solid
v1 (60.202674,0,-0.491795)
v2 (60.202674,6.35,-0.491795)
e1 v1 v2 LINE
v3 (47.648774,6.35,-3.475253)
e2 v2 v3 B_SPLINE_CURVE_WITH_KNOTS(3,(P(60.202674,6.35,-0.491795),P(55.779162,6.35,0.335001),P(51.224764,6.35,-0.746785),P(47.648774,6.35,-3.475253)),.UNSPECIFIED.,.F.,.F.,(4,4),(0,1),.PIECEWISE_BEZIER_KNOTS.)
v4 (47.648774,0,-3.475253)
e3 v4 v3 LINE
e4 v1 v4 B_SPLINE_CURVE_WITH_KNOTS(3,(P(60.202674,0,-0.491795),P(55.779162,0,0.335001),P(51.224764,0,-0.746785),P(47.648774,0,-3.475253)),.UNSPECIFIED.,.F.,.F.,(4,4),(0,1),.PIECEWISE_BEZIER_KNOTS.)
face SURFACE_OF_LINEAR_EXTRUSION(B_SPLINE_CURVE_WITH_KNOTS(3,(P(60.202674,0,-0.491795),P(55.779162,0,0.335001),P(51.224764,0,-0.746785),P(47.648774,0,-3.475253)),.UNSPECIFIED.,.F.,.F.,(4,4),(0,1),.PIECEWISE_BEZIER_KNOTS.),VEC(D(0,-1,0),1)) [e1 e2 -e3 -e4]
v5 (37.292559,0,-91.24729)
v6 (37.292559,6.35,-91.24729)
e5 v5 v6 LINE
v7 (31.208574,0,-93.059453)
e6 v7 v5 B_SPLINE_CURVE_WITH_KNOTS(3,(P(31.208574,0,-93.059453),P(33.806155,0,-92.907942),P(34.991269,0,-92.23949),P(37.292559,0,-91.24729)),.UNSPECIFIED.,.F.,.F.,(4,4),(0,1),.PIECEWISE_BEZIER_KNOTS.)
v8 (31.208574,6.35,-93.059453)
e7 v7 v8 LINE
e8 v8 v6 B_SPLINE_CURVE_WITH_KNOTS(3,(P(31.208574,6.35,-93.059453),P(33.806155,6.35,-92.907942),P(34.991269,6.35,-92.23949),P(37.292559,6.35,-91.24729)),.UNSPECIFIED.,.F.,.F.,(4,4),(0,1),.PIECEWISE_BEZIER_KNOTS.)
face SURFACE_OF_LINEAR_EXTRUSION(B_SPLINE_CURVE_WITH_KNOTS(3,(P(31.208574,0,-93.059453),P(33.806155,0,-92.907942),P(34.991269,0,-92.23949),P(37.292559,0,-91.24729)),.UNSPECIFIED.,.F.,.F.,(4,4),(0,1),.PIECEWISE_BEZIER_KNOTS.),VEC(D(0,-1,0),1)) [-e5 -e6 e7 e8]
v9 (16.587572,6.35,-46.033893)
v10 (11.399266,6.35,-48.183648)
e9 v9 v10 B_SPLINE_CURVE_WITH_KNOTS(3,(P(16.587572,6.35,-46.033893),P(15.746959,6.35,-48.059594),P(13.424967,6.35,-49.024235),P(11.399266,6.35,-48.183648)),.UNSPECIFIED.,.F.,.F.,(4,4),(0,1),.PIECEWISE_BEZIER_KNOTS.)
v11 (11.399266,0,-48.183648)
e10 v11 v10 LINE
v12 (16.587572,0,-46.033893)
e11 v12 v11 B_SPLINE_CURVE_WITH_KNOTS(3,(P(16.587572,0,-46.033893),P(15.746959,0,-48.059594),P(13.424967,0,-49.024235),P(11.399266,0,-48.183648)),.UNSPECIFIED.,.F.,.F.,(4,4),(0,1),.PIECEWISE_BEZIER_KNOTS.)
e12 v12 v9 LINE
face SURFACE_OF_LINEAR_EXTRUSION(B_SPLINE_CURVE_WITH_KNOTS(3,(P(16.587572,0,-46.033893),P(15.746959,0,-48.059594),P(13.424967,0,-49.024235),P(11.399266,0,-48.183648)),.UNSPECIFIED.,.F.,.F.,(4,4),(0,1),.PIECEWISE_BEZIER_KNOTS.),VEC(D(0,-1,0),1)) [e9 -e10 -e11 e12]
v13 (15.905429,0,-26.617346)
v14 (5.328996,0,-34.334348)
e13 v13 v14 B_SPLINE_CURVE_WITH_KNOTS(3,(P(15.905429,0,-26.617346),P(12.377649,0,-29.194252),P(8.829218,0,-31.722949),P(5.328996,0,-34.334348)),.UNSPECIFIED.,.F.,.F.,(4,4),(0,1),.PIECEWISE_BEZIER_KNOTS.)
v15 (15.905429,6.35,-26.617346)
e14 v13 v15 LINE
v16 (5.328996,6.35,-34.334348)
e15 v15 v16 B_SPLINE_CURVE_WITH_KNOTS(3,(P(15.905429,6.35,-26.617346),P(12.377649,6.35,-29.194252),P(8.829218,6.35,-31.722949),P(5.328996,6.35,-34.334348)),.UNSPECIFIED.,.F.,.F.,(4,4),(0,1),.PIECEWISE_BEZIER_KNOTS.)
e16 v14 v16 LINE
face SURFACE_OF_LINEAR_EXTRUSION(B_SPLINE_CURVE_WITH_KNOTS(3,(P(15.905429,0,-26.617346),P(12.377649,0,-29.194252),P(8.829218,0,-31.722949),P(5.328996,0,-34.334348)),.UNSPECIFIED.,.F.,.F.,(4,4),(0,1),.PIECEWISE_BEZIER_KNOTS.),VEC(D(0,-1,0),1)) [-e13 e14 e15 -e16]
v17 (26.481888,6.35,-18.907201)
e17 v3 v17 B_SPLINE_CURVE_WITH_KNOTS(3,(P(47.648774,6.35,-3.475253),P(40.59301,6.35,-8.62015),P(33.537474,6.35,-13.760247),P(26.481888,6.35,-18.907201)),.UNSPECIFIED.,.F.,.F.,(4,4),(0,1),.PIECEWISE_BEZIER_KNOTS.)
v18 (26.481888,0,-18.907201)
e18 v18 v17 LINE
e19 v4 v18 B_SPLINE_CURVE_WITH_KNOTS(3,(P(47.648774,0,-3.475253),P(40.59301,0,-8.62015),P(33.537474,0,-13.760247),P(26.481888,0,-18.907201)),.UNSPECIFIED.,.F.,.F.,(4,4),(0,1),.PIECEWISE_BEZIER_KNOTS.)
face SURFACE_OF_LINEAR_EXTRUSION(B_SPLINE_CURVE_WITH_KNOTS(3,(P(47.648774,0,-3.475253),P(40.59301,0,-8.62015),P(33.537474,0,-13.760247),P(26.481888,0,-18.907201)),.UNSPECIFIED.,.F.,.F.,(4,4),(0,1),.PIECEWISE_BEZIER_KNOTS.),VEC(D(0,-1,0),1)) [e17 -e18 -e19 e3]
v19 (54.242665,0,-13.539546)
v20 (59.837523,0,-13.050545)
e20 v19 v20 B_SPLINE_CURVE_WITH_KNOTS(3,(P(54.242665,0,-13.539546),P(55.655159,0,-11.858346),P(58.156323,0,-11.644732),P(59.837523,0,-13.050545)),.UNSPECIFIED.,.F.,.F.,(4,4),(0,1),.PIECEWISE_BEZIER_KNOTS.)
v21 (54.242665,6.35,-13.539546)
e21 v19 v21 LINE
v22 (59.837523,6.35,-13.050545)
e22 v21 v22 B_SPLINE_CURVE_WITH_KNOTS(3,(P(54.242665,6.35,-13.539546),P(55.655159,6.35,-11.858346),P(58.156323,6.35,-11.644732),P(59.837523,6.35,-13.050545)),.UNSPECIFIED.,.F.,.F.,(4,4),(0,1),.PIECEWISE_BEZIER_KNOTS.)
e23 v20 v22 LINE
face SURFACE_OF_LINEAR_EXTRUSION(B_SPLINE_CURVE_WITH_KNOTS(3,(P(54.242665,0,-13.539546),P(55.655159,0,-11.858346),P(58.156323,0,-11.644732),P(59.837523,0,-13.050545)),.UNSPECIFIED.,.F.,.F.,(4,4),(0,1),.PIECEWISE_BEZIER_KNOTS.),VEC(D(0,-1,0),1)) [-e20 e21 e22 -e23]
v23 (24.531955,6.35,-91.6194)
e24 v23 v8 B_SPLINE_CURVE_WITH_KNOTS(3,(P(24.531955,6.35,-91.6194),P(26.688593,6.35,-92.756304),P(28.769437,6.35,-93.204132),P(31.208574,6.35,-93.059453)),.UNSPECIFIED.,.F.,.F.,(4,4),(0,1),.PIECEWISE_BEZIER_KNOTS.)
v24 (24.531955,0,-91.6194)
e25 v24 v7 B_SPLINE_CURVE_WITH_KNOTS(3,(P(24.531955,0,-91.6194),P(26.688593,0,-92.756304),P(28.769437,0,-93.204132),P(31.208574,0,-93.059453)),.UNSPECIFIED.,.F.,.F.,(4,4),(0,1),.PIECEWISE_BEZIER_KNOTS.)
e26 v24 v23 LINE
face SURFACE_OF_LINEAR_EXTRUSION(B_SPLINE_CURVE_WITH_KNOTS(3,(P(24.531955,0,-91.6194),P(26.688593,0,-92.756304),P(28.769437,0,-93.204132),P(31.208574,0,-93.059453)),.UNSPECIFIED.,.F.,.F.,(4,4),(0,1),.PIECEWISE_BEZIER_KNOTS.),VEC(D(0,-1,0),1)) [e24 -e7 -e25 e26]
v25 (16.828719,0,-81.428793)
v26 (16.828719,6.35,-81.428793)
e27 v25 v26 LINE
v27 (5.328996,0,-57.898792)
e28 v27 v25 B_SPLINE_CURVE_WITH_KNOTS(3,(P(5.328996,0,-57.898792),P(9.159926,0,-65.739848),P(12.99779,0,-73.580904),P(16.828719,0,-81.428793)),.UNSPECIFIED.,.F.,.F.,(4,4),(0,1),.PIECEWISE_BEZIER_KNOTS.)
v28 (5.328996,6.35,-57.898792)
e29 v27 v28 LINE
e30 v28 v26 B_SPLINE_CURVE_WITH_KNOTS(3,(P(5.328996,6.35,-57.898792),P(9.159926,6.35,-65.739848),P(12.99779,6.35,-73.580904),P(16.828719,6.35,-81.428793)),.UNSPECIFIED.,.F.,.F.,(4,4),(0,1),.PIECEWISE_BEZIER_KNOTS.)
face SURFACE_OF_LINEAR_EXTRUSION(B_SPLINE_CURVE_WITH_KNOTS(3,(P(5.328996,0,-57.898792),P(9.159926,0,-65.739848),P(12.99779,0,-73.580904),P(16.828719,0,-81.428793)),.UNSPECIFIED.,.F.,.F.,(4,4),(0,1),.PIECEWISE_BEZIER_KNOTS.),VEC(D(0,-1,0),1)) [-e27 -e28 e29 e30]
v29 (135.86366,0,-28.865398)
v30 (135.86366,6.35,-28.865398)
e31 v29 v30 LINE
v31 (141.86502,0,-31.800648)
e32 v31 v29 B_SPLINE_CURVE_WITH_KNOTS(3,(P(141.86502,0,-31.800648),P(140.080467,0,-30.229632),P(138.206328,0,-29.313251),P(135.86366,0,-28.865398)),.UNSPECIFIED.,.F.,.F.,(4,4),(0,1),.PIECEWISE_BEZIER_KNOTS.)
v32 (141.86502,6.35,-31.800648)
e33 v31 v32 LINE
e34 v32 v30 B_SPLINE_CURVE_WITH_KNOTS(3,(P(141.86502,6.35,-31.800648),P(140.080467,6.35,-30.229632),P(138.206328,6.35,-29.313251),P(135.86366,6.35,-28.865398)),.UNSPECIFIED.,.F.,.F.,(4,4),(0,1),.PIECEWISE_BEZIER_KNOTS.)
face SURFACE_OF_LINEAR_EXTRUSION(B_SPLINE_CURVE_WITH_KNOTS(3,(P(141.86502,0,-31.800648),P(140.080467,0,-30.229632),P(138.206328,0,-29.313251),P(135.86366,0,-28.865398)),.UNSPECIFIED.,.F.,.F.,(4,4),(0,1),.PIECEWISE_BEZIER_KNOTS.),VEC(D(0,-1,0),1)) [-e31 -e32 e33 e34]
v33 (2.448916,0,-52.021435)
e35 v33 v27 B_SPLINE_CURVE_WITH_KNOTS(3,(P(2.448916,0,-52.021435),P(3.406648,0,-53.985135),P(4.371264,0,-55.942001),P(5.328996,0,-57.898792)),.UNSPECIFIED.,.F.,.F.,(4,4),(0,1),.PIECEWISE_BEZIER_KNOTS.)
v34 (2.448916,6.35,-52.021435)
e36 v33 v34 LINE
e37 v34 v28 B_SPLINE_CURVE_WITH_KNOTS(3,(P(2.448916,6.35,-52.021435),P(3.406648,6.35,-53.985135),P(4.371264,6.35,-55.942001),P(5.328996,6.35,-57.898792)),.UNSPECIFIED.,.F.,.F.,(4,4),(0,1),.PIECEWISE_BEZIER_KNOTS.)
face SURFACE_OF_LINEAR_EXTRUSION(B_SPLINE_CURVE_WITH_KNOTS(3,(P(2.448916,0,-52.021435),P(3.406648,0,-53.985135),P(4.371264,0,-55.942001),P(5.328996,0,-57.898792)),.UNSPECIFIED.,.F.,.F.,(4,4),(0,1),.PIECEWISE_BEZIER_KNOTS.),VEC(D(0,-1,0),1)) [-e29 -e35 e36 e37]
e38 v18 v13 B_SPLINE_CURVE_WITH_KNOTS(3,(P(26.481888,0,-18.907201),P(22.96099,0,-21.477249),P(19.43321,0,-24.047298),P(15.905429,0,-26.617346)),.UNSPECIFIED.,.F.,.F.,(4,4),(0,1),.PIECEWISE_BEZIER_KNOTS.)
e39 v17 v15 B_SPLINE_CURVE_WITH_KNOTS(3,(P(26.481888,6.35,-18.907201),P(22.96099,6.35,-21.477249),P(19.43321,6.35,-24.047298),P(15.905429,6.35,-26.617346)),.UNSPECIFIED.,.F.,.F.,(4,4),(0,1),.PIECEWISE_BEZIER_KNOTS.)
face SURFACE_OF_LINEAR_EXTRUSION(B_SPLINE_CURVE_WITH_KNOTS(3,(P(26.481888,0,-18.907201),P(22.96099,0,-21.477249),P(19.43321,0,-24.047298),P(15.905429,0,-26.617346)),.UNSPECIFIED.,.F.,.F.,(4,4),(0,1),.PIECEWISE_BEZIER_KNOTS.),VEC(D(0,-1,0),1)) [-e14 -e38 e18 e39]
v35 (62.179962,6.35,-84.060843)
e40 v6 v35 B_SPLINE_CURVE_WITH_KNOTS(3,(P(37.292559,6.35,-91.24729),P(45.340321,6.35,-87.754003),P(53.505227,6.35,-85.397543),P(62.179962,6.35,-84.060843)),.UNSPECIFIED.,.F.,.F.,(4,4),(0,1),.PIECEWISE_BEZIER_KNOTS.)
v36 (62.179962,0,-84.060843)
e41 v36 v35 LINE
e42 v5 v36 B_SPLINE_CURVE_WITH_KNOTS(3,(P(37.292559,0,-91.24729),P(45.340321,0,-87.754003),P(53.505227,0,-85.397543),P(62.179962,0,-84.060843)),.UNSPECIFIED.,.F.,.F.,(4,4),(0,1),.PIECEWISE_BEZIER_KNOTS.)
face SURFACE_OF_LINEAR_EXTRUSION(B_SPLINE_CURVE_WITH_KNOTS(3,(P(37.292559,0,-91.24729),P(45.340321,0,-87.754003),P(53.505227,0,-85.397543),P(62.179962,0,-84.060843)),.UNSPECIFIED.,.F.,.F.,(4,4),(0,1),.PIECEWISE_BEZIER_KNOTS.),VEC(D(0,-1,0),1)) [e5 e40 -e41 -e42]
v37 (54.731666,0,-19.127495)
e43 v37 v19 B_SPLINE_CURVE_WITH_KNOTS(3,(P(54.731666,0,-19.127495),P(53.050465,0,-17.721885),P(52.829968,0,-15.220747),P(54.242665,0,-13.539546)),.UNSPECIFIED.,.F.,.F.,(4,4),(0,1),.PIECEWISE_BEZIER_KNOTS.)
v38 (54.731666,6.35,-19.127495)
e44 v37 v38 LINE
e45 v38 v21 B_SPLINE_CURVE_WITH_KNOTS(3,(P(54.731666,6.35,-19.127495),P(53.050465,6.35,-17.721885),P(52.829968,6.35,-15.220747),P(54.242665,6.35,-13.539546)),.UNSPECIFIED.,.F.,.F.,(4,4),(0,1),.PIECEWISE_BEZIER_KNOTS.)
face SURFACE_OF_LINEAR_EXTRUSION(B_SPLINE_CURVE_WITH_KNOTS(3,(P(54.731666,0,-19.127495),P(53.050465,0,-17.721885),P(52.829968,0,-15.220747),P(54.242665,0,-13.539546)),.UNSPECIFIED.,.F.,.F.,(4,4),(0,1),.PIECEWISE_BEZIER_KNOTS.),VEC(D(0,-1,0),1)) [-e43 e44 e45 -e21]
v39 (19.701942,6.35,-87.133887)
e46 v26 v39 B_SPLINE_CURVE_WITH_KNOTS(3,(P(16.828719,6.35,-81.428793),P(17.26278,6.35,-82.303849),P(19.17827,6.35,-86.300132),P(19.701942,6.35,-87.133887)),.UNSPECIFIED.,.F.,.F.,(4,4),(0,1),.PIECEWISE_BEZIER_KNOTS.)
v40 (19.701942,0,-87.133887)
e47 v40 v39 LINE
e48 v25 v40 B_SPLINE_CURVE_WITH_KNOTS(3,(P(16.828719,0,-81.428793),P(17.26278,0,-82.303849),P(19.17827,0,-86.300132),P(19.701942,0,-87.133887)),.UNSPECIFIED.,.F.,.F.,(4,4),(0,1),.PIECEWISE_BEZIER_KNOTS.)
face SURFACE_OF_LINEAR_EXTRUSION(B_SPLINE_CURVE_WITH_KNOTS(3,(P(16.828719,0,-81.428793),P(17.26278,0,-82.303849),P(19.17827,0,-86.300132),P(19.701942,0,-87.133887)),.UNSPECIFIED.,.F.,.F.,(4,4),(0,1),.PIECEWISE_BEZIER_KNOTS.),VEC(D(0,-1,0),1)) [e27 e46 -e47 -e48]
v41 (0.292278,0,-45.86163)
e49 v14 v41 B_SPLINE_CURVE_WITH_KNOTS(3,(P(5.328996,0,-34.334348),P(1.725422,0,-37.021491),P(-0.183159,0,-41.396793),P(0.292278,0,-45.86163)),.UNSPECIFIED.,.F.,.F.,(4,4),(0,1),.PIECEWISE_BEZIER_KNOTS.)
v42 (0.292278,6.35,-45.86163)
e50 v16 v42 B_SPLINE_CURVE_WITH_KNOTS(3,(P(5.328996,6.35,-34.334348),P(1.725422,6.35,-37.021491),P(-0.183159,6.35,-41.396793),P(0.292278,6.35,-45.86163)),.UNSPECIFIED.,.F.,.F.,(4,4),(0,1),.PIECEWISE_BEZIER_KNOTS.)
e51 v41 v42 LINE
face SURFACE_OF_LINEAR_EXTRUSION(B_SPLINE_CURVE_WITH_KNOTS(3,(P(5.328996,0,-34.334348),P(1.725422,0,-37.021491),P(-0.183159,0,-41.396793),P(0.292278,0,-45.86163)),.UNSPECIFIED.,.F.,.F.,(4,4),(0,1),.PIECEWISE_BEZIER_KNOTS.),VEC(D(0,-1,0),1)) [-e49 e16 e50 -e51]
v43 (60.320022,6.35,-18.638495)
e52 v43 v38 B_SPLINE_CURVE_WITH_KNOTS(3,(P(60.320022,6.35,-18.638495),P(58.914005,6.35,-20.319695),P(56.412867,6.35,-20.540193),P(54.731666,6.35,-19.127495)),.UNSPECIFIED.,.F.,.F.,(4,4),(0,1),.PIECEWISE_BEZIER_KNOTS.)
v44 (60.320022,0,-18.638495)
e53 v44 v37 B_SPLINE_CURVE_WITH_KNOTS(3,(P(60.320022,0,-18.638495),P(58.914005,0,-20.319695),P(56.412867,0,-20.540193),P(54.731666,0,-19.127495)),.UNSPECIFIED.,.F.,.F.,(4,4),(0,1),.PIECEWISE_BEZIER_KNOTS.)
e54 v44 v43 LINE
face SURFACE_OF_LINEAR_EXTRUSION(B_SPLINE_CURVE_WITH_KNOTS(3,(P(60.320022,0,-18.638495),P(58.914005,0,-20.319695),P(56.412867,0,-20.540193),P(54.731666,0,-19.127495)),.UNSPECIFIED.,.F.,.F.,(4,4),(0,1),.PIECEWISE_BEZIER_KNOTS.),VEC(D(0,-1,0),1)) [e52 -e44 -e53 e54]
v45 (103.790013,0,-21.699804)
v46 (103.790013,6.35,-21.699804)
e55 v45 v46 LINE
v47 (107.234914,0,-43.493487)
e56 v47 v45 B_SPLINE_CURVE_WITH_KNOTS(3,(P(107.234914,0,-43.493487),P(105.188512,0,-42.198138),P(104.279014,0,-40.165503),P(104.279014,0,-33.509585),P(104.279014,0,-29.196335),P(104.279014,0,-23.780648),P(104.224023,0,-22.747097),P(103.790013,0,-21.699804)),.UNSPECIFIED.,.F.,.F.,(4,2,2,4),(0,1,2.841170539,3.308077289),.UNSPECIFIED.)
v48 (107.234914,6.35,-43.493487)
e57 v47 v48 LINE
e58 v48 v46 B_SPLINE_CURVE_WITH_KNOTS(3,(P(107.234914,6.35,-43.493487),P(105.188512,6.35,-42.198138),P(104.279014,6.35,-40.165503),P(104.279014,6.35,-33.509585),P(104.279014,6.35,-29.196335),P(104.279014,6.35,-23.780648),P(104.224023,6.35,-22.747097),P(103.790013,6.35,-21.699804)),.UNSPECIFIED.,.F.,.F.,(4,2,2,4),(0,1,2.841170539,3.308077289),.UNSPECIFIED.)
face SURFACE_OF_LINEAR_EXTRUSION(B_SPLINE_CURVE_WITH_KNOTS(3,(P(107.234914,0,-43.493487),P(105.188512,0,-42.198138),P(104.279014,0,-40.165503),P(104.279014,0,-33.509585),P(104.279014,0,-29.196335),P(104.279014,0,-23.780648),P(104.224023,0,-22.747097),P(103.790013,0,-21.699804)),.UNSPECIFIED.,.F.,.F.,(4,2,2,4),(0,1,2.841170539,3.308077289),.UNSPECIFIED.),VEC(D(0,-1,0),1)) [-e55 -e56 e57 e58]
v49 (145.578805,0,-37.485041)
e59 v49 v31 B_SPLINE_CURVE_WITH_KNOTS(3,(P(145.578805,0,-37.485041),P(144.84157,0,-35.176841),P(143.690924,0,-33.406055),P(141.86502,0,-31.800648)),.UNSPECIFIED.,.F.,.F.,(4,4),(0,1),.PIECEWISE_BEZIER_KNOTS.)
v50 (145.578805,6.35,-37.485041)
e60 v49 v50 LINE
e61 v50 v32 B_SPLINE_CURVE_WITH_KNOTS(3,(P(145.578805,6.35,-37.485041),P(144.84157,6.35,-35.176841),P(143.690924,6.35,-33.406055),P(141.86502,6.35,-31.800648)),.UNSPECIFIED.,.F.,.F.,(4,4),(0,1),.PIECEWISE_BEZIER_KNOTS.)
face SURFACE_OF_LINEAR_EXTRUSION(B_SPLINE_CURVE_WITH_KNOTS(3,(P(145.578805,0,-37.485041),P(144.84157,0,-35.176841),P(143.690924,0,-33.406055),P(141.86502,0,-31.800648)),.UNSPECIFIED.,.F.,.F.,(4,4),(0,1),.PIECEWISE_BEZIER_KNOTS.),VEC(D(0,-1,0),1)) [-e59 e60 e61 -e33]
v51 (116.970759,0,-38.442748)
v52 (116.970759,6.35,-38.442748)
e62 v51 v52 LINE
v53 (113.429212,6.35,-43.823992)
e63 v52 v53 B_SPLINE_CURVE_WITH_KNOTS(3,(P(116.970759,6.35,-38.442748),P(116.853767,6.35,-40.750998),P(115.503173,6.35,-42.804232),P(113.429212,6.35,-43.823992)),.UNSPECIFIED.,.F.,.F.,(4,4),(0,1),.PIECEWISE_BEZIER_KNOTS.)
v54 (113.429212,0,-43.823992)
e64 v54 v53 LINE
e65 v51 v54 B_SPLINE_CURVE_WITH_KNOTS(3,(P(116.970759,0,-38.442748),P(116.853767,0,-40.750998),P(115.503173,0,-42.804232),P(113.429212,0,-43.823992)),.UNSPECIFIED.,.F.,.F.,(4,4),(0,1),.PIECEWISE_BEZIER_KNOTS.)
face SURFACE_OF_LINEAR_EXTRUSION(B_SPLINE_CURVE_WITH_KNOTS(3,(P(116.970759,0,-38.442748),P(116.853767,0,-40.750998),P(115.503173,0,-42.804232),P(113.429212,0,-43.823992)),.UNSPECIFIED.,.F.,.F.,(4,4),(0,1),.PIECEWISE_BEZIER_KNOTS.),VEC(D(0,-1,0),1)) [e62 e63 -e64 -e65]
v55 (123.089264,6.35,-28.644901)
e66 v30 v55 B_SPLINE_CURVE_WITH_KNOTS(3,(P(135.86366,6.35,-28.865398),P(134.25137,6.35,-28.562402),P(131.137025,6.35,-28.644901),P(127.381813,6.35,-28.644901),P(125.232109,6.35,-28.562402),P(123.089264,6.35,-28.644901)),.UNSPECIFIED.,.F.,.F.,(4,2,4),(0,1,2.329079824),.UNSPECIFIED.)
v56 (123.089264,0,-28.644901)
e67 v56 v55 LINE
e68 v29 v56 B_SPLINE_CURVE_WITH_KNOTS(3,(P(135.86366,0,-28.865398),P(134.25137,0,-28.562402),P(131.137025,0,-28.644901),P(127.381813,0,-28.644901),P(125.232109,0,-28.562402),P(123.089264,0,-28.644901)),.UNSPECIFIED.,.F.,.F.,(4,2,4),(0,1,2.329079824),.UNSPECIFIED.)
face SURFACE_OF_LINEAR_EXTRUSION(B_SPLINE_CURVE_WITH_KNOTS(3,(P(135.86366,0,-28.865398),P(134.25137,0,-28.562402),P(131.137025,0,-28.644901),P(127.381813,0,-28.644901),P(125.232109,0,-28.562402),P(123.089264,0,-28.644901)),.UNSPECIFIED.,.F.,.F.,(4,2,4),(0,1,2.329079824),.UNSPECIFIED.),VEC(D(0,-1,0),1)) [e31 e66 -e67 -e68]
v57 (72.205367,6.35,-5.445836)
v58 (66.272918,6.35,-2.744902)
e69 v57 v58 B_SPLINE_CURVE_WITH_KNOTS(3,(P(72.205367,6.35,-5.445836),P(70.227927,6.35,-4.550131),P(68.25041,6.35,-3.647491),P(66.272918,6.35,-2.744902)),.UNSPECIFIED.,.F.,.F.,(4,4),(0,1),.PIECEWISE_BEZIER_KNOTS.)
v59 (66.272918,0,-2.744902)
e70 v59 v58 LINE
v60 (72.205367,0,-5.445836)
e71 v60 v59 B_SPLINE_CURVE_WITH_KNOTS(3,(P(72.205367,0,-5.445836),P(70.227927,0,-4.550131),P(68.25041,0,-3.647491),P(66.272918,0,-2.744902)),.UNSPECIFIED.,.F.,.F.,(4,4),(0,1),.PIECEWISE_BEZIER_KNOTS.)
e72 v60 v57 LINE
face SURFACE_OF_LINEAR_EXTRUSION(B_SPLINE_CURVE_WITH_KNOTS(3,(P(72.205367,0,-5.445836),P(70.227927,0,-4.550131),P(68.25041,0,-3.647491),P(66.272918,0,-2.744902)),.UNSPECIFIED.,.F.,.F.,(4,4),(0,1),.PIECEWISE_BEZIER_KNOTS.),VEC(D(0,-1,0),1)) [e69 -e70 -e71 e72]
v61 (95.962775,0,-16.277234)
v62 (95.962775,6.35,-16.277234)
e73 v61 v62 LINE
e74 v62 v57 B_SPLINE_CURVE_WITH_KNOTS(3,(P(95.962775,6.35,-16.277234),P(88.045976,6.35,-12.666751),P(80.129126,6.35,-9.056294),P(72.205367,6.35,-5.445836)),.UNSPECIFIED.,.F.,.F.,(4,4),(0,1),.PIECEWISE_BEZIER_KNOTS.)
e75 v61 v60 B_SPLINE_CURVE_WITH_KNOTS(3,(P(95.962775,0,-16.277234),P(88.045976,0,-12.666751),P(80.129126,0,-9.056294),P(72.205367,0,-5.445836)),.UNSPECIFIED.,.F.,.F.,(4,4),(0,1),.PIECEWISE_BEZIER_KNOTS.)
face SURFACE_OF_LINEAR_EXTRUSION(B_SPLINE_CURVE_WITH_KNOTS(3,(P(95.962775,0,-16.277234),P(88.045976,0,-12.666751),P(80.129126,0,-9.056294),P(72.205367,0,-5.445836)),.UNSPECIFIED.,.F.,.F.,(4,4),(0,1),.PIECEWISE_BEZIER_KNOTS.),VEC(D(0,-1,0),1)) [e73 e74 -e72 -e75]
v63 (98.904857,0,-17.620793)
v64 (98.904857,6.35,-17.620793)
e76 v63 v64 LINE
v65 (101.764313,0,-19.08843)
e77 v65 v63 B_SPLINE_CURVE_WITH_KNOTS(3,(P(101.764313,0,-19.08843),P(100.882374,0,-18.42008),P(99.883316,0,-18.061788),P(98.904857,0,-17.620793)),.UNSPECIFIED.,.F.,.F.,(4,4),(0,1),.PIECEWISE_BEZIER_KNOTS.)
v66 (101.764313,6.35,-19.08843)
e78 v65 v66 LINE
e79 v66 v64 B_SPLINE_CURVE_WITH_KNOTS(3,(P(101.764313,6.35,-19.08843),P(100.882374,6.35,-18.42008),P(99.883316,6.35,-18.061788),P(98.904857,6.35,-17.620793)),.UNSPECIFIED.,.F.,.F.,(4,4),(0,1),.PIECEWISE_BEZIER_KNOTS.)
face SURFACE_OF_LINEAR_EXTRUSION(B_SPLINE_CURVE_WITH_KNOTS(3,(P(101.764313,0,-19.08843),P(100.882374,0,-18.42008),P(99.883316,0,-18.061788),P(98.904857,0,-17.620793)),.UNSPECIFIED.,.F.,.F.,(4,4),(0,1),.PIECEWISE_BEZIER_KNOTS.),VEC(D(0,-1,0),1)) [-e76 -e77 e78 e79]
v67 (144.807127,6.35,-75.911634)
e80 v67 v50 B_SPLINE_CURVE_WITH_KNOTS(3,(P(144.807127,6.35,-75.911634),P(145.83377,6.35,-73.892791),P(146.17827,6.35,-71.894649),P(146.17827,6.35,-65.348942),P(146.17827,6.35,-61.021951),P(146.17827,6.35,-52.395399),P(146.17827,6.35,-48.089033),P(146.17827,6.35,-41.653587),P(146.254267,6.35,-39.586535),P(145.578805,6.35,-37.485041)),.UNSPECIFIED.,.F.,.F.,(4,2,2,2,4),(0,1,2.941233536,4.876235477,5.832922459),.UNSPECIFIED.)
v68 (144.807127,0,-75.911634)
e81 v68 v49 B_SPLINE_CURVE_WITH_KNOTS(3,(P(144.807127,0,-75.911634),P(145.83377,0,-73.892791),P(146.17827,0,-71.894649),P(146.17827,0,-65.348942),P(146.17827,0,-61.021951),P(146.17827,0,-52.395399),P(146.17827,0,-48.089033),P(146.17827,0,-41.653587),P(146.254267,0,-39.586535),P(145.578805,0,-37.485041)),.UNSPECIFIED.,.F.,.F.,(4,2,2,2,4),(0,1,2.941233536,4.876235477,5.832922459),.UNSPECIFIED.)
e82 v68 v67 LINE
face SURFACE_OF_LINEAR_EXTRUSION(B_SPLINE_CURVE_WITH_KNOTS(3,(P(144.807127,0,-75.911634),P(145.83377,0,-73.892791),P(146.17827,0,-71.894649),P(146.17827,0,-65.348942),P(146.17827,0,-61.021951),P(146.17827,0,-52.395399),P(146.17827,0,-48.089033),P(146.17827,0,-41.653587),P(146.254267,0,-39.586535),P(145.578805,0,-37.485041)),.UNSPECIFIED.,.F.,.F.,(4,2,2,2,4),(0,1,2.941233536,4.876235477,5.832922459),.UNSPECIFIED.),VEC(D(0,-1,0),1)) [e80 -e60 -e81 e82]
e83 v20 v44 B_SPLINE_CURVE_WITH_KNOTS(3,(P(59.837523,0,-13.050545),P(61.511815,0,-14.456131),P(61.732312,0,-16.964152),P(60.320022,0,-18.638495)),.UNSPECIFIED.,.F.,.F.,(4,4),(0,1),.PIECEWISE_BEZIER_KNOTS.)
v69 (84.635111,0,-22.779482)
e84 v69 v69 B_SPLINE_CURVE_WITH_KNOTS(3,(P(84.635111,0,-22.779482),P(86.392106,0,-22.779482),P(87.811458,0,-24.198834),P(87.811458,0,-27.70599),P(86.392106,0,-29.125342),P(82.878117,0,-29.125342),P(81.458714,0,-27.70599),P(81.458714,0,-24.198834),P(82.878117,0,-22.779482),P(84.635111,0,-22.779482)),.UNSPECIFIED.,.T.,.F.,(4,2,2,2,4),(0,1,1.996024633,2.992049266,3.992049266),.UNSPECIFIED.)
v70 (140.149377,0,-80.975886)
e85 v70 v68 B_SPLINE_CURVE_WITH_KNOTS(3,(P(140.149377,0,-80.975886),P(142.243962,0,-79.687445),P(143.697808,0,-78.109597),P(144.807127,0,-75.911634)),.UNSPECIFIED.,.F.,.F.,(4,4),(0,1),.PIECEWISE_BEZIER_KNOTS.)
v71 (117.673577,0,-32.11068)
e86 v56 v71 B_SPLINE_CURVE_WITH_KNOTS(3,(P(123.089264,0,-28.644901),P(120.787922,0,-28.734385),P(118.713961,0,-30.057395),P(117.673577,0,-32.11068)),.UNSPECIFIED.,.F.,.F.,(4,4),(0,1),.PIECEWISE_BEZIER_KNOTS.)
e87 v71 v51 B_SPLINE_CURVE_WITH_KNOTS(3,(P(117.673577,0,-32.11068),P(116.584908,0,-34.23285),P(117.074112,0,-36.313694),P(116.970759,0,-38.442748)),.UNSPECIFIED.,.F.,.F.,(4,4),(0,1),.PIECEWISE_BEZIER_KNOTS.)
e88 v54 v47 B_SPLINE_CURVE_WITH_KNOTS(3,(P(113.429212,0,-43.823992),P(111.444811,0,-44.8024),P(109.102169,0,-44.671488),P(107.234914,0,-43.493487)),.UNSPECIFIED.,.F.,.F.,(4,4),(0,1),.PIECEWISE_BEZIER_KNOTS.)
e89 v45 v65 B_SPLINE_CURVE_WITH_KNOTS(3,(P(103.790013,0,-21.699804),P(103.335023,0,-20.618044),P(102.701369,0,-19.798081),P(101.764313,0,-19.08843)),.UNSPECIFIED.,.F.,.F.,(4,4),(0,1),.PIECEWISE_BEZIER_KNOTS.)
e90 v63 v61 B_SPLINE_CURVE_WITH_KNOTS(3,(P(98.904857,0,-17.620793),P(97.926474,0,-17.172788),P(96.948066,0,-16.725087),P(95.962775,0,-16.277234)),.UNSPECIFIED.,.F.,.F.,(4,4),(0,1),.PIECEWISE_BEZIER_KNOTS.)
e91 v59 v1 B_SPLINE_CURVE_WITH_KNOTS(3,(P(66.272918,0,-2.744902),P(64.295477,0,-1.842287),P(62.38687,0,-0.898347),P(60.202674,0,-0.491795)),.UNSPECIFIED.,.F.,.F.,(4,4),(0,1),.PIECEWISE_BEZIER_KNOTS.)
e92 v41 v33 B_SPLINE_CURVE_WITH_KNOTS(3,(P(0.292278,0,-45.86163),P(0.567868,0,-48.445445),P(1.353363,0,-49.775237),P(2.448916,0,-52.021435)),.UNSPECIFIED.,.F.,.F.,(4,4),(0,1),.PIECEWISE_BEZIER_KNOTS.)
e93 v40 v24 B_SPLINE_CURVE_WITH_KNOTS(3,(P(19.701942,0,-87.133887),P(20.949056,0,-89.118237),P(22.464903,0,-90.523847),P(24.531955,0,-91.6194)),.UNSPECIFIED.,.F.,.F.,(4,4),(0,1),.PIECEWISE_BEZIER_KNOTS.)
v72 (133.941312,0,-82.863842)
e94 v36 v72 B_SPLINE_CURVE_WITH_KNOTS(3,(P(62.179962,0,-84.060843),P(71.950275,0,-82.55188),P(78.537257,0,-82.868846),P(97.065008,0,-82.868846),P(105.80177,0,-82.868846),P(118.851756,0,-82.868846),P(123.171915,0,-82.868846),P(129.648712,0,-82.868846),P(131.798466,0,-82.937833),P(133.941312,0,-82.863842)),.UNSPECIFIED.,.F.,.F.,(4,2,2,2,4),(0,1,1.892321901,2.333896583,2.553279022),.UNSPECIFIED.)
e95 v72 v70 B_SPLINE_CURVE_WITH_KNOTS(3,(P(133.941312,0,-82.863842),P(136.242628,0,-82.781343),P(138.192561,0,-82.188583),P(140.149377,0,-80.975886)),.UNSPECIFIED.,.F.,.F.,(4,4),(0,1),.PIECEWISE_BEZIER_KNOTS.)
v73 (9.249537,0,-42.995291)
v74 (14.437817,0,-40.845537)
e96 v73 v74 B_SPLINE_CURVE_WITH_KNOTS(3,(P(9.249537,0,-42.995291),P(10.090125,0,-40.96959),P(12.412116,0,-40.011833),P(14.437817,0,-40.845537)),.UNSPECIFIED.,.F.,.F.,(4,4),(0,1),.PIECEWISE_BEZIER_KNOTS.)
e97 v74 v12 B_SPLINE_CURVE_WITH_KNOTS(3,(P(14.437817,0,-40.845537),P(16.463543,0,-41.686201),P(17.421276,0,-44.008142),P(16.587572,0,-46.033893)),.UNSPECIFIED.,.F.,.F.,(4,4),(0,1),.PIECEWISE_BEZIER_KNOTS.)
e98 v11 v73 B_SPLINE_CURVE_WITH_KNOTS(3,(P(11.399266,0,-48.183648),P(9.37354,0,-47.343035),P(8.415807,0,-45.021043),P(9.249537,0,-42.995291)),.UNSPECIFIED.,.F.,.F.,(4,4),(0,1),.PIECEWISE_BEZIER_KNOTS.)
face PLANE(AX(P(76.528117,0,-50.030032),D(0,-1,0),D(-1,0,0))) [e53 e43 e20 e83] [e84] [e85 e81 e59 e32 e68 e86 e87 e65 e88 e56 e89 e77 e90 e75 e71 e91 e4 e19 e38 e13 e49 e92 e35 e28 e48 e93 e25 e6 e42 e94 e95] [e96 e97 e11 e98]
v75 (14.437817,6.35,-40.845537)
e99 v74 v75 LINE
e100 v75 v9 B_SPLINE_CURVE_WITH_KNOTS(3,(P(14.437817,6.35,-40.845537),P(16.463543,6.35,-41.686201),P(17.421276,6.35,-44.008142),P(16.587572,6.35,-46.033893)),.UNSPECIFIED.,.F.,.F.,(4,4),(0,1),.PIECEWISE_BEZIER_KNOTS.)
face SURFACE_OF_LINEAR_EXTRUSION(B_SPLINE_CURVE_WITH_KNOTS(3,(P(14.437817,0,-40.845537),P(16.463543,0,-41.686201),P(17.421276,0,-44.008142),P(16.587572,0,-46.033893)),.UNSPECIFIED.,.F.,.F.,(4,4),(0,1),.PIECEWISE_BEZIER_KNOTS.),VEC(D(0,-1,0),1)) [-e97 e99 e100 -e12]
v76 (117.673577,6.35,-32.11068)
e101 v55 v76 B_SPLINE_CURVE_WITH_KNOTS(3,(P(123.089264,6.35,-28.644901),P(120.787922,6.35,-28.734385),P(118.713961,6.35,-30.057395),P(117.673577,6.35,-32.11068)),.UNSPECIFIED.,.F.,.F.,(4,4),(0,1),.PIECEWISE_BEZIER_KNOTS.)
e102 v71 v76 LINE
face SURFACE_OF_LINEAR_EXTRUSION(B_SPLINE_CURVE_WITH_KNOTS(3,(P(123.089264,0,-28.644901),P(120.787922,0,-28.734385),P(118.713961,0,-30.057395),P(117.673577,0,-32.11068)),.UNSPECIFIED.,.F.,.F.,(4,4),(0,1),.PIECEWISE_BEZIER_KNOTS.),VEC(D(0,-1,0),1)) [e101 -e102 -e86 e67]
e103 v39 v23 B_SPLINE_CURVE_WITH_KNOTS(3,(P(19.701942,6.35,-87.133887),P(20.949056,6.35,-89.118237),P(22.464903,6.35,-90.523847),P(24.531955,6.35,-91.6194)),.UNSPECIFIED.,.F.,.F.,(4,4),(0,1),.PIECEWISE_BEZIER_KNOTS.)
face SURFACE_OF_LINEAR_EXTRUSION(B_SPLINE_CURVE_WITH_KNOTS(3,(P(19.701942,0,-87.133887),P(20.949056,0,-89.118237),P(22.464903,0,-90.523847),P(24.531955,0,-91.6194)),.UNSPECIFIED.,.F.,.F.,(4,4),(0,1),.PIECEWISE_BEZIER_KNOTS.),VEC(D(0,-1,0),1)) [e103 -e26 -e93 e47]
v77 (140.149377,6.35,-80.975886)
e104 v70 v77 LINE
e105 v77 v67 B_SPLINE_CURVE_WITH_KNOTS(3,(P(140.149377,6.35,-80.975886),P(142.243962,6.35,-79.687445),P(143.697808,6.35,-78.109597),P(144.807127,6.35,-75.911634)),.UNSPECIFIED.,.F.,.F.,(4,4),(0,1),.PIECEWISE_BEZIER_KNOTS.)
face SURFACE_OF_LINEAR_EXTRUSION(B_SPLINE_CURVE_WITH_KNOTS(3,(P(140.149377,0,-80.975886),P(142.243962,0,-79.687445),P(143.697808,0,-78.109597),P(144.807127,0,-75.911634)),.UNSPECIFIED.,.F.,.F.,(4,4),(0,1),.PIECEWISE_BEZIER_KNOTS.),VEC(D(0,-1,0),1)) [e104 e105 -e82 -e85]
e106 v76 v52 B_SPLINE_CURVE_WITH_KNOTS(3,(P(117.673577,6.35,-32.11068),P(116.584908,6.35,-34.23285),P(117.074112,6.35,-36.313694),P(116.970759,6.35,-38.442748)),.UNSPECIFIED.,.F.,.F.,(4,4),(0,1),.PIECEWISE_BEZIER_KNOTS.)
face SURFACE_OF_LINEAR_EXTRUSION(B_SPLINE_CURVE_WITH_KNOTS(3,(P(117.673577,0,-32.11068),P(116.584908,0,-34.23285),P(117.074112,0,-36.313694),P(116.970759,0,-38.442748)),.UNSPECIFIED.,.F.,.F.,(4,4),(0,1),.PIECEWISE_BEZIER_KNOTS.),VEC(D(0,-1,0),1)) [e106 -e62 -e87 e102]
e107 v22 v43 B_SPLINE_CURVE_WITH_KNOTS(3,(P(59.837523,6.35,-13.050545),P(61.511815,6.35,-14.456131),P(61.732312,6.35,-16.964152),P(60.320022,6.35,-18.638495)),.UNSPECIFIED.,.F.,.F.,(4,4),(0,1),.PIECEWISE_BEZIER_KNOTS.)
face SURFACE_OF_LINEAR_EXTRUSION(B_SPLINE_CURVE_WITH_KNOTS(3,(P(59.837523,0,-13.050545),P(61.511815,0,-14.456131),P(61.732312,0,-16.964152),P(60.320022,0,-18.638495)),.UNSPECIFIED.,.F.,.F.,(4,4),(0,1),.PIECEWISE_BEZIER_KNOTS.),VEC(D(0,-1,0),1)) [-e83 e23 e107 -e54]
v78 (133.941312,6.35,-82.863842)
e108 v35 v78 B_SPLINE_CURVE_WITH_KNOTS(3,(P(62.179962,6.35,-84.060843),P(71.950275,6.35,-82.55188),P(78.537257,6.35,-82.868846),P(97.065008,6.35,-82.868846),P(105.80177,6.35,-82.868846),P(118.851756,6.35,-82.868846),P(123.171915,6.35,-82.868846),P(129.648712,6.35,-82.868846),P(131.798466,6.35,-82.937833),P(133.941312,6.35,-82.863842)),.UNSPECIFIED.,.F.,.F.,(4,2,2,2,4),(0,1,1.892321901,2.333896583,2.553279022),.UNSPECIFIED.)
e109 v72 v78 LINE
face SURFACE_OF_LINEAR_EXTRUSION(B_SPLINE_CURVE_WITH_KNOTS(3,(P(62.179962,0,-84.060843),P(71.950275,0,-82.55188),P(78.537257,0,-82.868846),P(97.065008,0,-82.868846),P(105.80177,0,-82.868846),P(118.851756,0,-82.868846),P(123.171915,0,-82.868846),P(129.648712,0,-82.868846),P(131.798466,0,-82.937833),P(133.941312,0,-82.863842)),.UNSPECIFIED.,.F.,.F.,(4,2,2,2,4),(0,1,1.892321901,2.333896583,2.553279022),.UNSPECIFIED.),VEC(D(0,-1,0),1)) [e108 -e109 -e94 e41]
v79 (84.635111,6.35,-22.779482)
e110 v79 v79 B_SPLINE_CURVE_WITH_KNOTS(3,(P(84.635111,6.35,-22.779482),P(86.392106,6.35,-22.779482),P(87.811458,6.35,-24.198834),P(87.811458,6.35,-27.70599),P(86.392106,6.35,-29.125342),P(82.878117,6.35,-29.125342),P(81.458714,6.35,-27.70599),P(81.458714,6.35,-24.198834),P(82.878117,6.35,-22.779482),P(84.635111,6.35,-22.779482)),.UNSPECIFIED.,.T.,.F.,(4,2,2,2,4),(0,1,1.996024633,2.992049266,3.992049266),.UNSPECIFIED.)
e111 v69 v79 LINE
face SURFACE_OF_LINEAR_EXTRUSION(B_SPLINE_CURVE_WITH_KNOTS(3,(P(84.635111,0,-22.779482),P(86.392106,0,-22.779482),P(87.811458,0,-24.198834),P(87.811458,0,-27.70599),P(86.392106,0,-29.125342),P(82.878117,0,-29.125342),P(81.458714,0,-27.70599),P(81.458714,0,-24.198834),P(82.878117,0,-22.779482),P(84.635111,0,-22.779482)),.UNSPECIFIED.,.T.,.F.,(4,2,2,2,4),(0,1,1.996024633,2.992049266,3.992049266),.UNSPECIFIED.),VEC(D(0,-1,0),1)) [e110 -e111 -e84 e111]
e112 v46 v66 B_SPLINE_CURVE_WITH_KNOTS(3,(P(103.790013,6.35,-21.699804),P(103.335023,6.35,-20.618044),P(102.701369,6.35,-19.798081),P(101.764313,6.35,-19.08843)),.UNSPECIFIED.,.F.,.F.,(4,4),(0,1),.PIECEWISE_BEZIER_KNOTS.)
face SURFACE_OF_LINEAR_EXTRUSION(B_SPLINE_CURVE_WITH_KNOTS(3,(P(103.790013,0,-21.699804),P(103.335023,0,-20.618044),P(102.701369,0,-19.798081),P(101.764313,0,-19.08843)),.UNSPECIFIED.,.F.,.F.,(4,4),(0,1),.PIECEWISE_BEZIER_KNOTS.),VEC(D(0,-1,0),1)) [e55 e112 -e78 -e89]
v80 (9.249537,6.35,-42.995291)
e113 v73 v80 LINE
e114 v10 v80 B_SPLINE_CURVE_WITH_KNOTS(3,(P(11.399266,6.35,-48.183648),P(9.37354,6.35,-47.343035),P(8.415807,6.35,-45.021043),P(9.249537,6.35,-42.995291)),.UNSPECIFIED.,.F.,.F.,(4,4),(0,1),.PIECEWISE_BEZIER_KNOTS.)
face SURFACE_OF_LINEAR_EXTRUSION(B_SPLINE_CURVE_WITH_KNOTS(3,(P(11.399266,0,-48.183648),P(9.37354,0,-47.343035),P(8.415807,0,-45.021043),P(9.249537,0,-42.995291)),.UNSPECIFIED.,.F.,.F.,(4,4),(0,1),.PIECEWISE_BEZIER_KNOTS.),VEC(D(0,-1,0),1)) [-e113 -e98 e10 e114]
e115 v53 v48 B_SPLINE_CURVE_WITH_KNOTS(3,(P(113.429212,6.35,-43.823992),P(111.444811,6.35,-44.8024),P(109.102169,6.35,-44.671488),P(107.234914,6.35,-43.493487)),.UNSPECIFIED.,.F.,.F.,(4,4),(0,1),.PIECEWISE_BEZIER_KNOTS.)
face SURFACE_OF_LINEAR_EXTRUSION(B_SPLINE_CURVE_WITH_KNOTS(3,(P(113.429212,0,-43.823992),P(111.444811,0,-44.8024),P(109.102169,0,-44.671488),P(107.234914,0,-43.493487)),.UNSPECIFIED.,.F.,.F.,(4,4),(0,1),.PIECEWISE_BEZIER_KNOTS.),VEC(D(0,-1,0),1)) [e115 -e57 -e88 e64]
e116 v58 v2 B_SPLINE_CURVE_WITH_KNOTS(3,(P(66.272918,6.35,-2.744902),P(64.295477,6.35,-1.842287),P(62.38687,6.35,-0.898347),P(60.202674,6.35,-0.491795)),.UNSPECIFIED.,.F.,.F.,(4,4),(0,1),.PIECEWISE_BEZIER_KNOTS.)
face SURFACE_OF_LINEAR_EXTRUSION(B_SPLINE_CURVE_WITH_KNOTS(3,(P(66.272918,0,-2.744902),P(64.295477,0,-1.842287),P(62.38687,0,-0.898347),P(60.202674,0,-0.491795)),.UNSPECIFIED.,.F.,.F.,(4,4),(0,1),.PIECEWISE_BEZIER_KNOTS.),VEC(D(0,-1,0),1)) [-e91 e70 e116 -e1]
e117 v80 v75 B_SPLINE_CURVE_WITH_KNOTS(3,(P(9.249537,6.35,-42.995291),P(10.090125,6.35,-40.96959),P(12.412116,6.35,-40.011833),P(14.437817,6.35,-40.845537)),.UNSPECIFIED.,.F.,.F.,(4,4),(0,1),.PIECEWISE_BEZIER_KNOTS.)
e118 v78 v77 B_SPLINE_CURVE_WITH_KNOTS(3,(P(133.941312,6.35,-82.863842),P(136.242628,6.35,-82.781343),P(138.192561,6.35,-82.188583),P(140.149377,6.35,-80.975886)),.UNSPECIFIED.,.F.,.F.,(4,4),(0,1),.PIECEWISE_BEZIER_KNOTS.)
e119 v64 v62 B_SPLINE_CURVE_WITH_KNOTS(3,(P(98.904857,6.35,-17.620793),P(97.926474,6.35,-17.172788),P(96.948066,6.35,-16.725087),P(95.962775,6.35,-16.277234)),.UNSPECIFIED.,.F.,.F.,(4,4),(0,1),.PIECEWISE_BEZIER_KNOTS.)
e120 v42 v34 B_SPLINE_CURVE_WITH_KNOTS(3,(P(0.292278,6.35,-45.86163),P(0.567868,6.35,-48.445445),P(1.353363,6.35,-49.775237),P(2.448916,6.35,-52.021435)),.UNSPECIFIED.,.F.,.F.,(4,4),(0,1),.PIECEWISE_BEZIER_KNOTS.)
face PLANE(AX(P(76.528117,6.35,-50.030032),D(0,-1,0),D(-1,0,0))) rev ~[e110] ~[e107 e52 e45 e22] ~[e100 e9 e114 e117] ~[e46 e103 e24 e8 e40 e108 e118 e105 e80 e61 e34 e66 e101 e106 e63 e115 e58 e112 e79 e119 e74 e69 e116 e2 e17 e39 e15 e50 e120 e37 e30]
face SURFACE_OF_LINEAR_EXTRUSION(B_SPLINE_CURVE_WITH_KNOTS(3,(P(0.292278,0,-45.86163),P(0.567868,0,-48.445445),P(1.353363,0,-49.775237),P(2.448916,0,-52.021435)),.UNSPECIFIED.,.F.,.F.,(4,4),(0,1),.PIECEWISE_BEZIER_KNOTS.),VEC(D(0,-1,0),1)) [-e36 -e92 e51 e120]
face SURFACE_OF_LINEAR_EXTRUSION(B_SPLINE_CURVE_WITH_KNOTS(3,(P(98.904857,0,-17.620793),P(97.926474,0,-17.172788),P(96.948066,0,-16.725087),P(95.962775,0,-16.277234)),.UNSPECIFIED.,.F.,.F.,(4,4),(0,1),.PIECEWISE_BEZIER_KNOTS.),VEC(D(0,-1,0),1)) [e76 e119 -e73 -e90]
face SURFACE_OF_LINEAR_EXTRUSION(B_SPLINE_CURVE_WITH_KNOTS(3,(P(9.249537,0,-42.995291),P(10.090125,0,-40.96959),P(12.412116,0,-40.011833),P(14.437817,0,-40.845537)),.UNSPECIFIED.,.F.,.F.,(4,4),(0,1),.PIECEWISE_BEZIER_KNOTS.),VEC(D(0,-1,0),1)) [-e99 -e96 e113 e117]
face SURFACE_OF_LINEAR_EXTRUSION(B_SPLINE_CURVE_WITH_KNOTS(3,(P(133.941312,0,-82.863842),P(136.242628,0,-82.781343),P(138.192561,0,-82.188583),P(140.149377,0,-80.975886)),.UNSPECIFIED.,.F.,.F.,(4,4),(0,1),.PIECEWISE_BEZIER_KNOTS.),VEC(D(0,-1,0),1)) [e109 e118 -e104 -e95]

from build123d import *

# Parameters (mm, degrees)
BOSS_EXTRUDE1_DEPTH = 6.35


with BuildPart() as part:
    # Imported Profile → Boss-Extrude1 (new body)
    with BuildSketch(Plane(origin=(0, 0, 0), x_dir=(1, 0, 0), z_dir=(0, 1, 0))):
        with BuildLine():
            add(Edge.make_bspline(
                [(47.6487744, 3.4752534), (40.59301, 8.6201504), (33.5374742, 13.7602468), (26.4818876, 18.9072012)],
                knots=[0, 0, 0, 0, 1, 1, 1, 1], degree=3))
            add(Edge.make_bspline(
                [(26.4818876, 18.9072012), (22.9609904, 21.4772494), (19.4332098, 24.0472976), (15.9054292, 26.6173458)],
                knots=[0, 0, 0, 0, 1, 1, 1, 1], degree=3))
            add(Edge.make_bspline(
                [(15.9054292, 26.6173458), (12.3776486, 29.194252), (8.8292178, 31.722949), (5.3289962, 34.3343484)],
                knots=[0, 0, 0, 0, 1, 1, 1, 1], degree=3))
            add(Edge.make_bspline(
                [(5.3289962, 34.3343484), (1.725422, 37.0214906), (-0.1831594, 41.396793), (0.2922778, 45.8616304)],
                knots=[0, 0, 0, 0, 1, 1, 1, 1], degree=3))
            add(Edge.make_bspline(
                [(0.2922778, 45.8616304), (0.5678678, 48.4454454), (1.3533628, 49.775237), (2.4489156, 52.0214352)],
                knots=[0, 0, 0, 0, 1, 1, 1, 1], degree=3))
            add(Edge.make_bspline(
                [(2.4489156, 52.0214352), (3.406648, 53.9851346), (4.3712638, 55.9420014), (5.3289962, 57.898792)],
                knots=[0, 0, 0, 0, 1, 1, 1, 1], degree=3))
            add(Edge.make_bspline(
                [(5.3289962, 57.898792), (9.1599258, 65.7398482), (12.9977896, 73.5809044), (16.8287192, 81.4287932)],
                knots=[0, 0, 0, 0, 1, 1, 1, 1], degree=3))
            add(Edge.make_bspline(
                [(16.8287192, 81.4287932), (17.2627798, 82.3038486), (19.17827, 86.3001322), (19.7019418, 87.1338872)],
                knots=[0, 0, 0, 0, 1, 1, 1, 1], degree=3))
            add(Edge.make_bspline(
                [(19.7019418, 87.1338872), (20.9490564, 89.1182368), (22.464903, 90.5238474), (24.531955, 91.6194002)],
                knots=[0, 0, 0, 0, 1, 1, 1, 1], degree=3))
            add(Edge.make_bspline(
                [(24.531955, 91.6194002), (26.6885928, 92.7563042), (28.769437, 93.2041316), (31.2085736, 93.0594532)],
                knots=[0, 0, 0, 0, 1, 1, 1, 1], degree=3))
            add(Edge.make_bspline(
                [(31.2085736, 93.0594532), (33.8061554, 92.9079422), (34.9912686, 92.2394904), (37.2925594, 91.2472902)],
                knots=[0, 0, 0, 0, 1, 1, 1, 1], degree=3))
            add(Edge.make_bspline(
                [(37.2925594, 91.2472902), (45.3403208, 87.7540028), (53.505227, 85.3975432), (62.179962, 84.0608428)],
                knots=[0, 0, 0, 0, 1, 1, 1, 1], degree=3))
            add(Edge.make_bspline(
                [(62.179962, 84.0608428), (71.9502752, 82.5518796), (78.5372572, 82.8688462), (88.3282714, 82.8688462)],
                knots=[0, 0, 0, 0, 1, 1, 1, 1], degree=3))
            add(Edge.make_bspline(
                [(88.3282714, 82.8688462), (97.0650078, 82.8688462), (105.8017696, 82.8688462), (114.5316734, 82.8688462)],
                knots=[0, 0, 0, 0, 1, 1, 1, 1], degree=3))
            add(Edge.make_bspline(
                [(114.5316734, 82.8688462), (118.8517562, 82.8688462), (123.1719152, 82.8688462), (127.4989576, 82.8688462)],
                knots=[0, 0, 0, 0, 1, 1, 1, 1], degree=3))
            add(Edge.make_bspline(
                [(127.4989576, 82.8688462), (129.648712, 82.8688462), (131.7984664, 82.9378326), (133.941312, 82.8638424)],
                knots=[0, 0, 0, 0, 1, 1, 1, 1], degree=3))
            add(Edge.make_bspline(
                [(133.941312, 82.8638424), (136.2426282, 82.7813432), (138.1925608, 82.1885834), (140.1493768, 80.9758858)],
                knots=[0, 0, 0, 0, 1, 1, 1, 1], degree=3))
            add(Edge.make_bspline(
                [(140.1493768, 80.9758858), (142.2439624, 79.6874454), (143.6978076, 78.1095974), (144.8071272, 75.9116338)],
                knots=[0, 0, 0, 0, 1, 1, 1, 1], degree=3))
            add(Edge.make_bspline(
                [(144.8071272, 75.9116338), (145.8337698, 73.892791), (146.17827, 71.8946492), (146.17827, 69.669152)],
                knots=[0, 0, 0, 0, 1, 1, 1, 1], degree=3))
            add(Edge.make_bspline(
                [(146.17827, 69.669152), (146.17827, 65.3489422), (146.17827, 61.0219506), (146.17827, 56.7017408)],
                knots=[0, 0, 0, 0, 1, 1, 1, 1], degree=3))
            add(Edge.make_bspline(
                [(146.17827, 56.7017408), (146.17827, 52.3953994), (146.17827, 48.0890326), (146.17827, 43.7826912)],
                knots=[0, 0, 0, 0, 1, 1, 1, 1], degree=3))
            add(Edge.make_bspline(
                [(146.17827, 43.7826912), (146.17827, 41.653587), (146.2542668, 39.586535), (145.5788046, 37.4850406)],
                knots=[0, 0, 0, 0, 1, 1, 1, 1], degree=3))
            add(Edge.make_bspline(
                [(145.5788046, 37.4850406), (144.8415696, 35.176841), (143.6909242, 33.4060546), (141.8650198, 31.8006476)],
                knots=[0, 0, 0, 0, 1, 1, 1, 1], degree=3))
            add(Edge.make_bspline(
                [(141.8650198, 31.8006476), (140.0804666, 30.2296322), (138.2063276, 29.313251), (135.8636602, 28.8653982)],
                knots=[0, 0, 0, 0, 1, 1, 1, 1], degree=3))
            add(Edge.make_bspline(
                [(135.8636602, 28.8653982), (134.2513698, 28.5624016), (131.137025, 28.6449008), (129.5247092, 28.6449008)],
                knots=[0, 0, 0, 0, 1, 1, 1, 1], degree=3))
            add(Edge.make_bspline(
                [(129.5247092, 28.6449008), (127.3818128, 28.6449008), (125.2321092, 28.5624016), (123.0892636, 28.6449008)],
                knots=[0, 0, 0, 0, 1, 1, 1, 1], degree=3))
            add(Edge.make_bspline(
                [(123.0892636, 28.6449008), (120.787922, 28.734385), (118.7139612, 30.0573948), (117.6735772, 32.11068)],
                knots=[0, 0, 0, 0, 1, 1, 1, 1], degree=3))
            add(Edge.make_bspline(
                [(117.6735772, 32.11068), (116.5849078, 34.23285), (117.0741118, 36.3136942), (116.9707592, 38.4427476)],
                knots=[0, 0, 0, 0, 1, 1, 1, 1], degree=3))
            add(Edge.make_bspline(
                [(116.9707592, 38.4427476), (116.8537668, 40.750998), (115.5031726, 42.8042324), (113.4292118, 43.8239916)],
                knots=[0, 0, 0, 0, 1, 1, 1, 1], degree=3))
            add(Edge.make_bspline(
                [(113.4292118, 43.8239916), (111.4448114, 44.8023996), (109.1021694, 44.671488), (107.2349138, 43.4934868)],
                knots=[0, 0, 0, 0, 1, 1, 1, 1], degree=3))
            add(Edge.make_bspline(
                [(107.2349138, 43.4934868), (105.188512, 42.1981376), (104.2790142, 40.1655026), (104.2790142, 37.8228352)],
                knots=[0, 0, 0, 0, 1, 1, 1, 1], degree=3))
            add(Edge.make_bspline(
                [(104.2790142, 37.8228352), (104.2790142, 33.509585), (104.2790142, 29.1963348), (104.2790142, 24.8762012)],
                knots=[0, 0, 0, 0, 1, 1, 1, 1], degree=3))
            add(Edge.make_bspline(
                [(104.2790142, 24.8762012), (104.2790142, 23.7806484), (104.2240232, 22.747097), (103.7900134, 21.6998042)],
                knots=[0, 0, 0, 0, 1, 1, 1, 1], degree=3))
            add(Edge.make_bspline(
                [(103.7900134, 21.6998042), (103.3350232, 20.6180436), (102.7013694, 19.7980808), (101.7643126, 19.0884302)],
                knots=[0, 0, 0, 0, 1, 1, 1, 1], degree=3))
            add(Edge.make_bspline(
                [(101.7643126, 19.0884302), (100.8823738, 18.42008), (99.8833156, 18.0617876), (98.9048568, 17.6207928)],
                knots=[0, 0, 0, 0, 1, 1, 1, 1], degree=3))
            add(Edge.make_bspline(
                [(98.9048568, 17.6207928), (97.9264742, 17.1727876), (96.9480662, 16.7250872), (95.9627748, 16.2772344)],
                knots=[0, 0, 0, 0, 1, 1, 1, 1], degree=3))
            add(Edge.make_bspline(
                [(95.9627748, 16.2772344), (88.0459758, 12.6667514), (80.129126, 9.0562938), (72.2053674, 5.4458362)],
                knots=[0, 0, 0, 0, 1, 1, 1, 1], degree=3))
            add(Edge.make_bspline(
                [(72.2053674, 5.4458362), (70.2279266, 4.5501306), (68.2504096, 3.6474908), (66.272918, 2.7449018)],
                knots=[0, 0, 0, 0, 1, 1, 1, 1], degree=3))
            add(Edge.make_bspline(
                [(66.272918, 2.7449018), (64.2954772, 1.8422874), (62.3868704, 0.8983472), (60.2026736, 0.4917948)],
                knots=[0, 0, 0, 0, 1, 1, 1, 1], degree=3))
            add(Edge.make_bspline(
                [(60.2026736, 0.4917948), (55.779162, -0.3350006), (51.2247642, 0.7467854), (47.6487744, 3.4752534)],
                knots=[0, 0, 0, 0, 1, 1, 1, 1], degree=3))
        make_face()
        with BuildLine():
            add(Edge.make_bspline(
                [(87.8114576, 25.9559044), (87.8114576, 27.7059898), (86.3921056, 29.1253418), (84.6351114, 29.1253418)],
                knots=[0, 0, 0, 0, 1, 1, 1, 1], degree=3))
            add(Edge.make_bspline(
                [(84.6351114, 29.1253418), (82.8781172, 29.1253418), (81.4587144, 27.7059898), (81.4587144, 25.9559044)],
                knots=[0, 0, 0, 0, 1, 1, 1, 1], degree=3))
            add(Edge.make_bspline(
                [(81.4587144, 25.9559044), (81.4587144, 24.198834), (82.8781172, 22.779482), (84.6351114, 22.779482)],
                knots=[0, 0, 0, 0, 1, 1, 1, 1], degree=3))
            add(Edge.make_bspline(
                [(84.6351114, 22.779482), (86.3921056, 22.779482), (87.8114576, 24.198834), (87.8114576, 25.9559044)],
                knots=[0, 0, 0, 0, 1, 1, 1, 1], degree=3))
        make_face(mode=Mode.SUBTRACT)
        with BuildLine():
            add(Edge.make_bspline(
                [(16.5875716, 46.0338932), (15.7469586, 48.059594), (13.4249668, 49.0242352), (11.399266, 48.1836476)],
                knots=[0, 0, 0, 0, 1, 1, 1, 1], degree=3))
            add(Edge.make_bspline(
                [(11.399266, 48.1836476), (9.3735398, 47.3430346), (8.4158074, 45.0210428), (9.249537, 42.9952912)],
                knots=[0, 0, 0, 0, 1, 1, 1, 1], degree=3))
            add(Edge.make_bspline(
                [(9.249537, 42.9952912), (10.0901246, 40.9695904), (12.4121164, 40.0118326), (14.4378172, 40.8455368)],
                knots=[0, 0, 0, 0, 1, 1, 1, 1], degree=3))
            add(Edge.make_bspline(
                [(14.4378172, 40.8455368), (16.4635434, 41.6862006), (17.4212758, 44.0081416), (16.5875716, 46.0338932)],
                knots=[0, 0, 0, 0, 1, 1, 1, 1], degree=3))
        make_face(mode=Mode.SUBTRACT)
        with BuildLine():
            add(Edge.make_bspline(
                [(60.3200216, 18.6384946), (58.9140046, 20.3196952), (56.4128666, 20.5401926), (54.731666, 19.1274954)],
                knots=[0, 0, 0, 0, 1, 1, 1, 1], degree=3))
            add(Edge.make_bspline(
                [(54.731666, 19.1274954), (53.0504654, 17.7218848), (52.829968, 15.2207468), (54.2426652, 13.5395462)],
                knots=[0, 0, 0, 0, 1, 1, 1, 1], degree=3))
            add(Edge.make_bspline(
                [(54.2426652, 13.5395462), (55.6551592, 11.8583456), (58.1563226, 11.6447316), (59.8375232, 13.0505454)],
                knots=[0, 0, 0, 0, 1, 1, 1, 1], degree=3))
            add(Edge.make_bspline(
                [(59.8375232, 13.0505454), (61.511815, 14.4561306), (61.7323124, 16.964152), (60.3200216, 18.6384946)],
                knots=[0, 0, 0, 0, 1, 1, 1, 1], degree=3))
        make_face(mode=Mode.SUBTRACT)
    extrude(amount=BOSS_EXTRUDE1_DEPTH)


solid = part.part
